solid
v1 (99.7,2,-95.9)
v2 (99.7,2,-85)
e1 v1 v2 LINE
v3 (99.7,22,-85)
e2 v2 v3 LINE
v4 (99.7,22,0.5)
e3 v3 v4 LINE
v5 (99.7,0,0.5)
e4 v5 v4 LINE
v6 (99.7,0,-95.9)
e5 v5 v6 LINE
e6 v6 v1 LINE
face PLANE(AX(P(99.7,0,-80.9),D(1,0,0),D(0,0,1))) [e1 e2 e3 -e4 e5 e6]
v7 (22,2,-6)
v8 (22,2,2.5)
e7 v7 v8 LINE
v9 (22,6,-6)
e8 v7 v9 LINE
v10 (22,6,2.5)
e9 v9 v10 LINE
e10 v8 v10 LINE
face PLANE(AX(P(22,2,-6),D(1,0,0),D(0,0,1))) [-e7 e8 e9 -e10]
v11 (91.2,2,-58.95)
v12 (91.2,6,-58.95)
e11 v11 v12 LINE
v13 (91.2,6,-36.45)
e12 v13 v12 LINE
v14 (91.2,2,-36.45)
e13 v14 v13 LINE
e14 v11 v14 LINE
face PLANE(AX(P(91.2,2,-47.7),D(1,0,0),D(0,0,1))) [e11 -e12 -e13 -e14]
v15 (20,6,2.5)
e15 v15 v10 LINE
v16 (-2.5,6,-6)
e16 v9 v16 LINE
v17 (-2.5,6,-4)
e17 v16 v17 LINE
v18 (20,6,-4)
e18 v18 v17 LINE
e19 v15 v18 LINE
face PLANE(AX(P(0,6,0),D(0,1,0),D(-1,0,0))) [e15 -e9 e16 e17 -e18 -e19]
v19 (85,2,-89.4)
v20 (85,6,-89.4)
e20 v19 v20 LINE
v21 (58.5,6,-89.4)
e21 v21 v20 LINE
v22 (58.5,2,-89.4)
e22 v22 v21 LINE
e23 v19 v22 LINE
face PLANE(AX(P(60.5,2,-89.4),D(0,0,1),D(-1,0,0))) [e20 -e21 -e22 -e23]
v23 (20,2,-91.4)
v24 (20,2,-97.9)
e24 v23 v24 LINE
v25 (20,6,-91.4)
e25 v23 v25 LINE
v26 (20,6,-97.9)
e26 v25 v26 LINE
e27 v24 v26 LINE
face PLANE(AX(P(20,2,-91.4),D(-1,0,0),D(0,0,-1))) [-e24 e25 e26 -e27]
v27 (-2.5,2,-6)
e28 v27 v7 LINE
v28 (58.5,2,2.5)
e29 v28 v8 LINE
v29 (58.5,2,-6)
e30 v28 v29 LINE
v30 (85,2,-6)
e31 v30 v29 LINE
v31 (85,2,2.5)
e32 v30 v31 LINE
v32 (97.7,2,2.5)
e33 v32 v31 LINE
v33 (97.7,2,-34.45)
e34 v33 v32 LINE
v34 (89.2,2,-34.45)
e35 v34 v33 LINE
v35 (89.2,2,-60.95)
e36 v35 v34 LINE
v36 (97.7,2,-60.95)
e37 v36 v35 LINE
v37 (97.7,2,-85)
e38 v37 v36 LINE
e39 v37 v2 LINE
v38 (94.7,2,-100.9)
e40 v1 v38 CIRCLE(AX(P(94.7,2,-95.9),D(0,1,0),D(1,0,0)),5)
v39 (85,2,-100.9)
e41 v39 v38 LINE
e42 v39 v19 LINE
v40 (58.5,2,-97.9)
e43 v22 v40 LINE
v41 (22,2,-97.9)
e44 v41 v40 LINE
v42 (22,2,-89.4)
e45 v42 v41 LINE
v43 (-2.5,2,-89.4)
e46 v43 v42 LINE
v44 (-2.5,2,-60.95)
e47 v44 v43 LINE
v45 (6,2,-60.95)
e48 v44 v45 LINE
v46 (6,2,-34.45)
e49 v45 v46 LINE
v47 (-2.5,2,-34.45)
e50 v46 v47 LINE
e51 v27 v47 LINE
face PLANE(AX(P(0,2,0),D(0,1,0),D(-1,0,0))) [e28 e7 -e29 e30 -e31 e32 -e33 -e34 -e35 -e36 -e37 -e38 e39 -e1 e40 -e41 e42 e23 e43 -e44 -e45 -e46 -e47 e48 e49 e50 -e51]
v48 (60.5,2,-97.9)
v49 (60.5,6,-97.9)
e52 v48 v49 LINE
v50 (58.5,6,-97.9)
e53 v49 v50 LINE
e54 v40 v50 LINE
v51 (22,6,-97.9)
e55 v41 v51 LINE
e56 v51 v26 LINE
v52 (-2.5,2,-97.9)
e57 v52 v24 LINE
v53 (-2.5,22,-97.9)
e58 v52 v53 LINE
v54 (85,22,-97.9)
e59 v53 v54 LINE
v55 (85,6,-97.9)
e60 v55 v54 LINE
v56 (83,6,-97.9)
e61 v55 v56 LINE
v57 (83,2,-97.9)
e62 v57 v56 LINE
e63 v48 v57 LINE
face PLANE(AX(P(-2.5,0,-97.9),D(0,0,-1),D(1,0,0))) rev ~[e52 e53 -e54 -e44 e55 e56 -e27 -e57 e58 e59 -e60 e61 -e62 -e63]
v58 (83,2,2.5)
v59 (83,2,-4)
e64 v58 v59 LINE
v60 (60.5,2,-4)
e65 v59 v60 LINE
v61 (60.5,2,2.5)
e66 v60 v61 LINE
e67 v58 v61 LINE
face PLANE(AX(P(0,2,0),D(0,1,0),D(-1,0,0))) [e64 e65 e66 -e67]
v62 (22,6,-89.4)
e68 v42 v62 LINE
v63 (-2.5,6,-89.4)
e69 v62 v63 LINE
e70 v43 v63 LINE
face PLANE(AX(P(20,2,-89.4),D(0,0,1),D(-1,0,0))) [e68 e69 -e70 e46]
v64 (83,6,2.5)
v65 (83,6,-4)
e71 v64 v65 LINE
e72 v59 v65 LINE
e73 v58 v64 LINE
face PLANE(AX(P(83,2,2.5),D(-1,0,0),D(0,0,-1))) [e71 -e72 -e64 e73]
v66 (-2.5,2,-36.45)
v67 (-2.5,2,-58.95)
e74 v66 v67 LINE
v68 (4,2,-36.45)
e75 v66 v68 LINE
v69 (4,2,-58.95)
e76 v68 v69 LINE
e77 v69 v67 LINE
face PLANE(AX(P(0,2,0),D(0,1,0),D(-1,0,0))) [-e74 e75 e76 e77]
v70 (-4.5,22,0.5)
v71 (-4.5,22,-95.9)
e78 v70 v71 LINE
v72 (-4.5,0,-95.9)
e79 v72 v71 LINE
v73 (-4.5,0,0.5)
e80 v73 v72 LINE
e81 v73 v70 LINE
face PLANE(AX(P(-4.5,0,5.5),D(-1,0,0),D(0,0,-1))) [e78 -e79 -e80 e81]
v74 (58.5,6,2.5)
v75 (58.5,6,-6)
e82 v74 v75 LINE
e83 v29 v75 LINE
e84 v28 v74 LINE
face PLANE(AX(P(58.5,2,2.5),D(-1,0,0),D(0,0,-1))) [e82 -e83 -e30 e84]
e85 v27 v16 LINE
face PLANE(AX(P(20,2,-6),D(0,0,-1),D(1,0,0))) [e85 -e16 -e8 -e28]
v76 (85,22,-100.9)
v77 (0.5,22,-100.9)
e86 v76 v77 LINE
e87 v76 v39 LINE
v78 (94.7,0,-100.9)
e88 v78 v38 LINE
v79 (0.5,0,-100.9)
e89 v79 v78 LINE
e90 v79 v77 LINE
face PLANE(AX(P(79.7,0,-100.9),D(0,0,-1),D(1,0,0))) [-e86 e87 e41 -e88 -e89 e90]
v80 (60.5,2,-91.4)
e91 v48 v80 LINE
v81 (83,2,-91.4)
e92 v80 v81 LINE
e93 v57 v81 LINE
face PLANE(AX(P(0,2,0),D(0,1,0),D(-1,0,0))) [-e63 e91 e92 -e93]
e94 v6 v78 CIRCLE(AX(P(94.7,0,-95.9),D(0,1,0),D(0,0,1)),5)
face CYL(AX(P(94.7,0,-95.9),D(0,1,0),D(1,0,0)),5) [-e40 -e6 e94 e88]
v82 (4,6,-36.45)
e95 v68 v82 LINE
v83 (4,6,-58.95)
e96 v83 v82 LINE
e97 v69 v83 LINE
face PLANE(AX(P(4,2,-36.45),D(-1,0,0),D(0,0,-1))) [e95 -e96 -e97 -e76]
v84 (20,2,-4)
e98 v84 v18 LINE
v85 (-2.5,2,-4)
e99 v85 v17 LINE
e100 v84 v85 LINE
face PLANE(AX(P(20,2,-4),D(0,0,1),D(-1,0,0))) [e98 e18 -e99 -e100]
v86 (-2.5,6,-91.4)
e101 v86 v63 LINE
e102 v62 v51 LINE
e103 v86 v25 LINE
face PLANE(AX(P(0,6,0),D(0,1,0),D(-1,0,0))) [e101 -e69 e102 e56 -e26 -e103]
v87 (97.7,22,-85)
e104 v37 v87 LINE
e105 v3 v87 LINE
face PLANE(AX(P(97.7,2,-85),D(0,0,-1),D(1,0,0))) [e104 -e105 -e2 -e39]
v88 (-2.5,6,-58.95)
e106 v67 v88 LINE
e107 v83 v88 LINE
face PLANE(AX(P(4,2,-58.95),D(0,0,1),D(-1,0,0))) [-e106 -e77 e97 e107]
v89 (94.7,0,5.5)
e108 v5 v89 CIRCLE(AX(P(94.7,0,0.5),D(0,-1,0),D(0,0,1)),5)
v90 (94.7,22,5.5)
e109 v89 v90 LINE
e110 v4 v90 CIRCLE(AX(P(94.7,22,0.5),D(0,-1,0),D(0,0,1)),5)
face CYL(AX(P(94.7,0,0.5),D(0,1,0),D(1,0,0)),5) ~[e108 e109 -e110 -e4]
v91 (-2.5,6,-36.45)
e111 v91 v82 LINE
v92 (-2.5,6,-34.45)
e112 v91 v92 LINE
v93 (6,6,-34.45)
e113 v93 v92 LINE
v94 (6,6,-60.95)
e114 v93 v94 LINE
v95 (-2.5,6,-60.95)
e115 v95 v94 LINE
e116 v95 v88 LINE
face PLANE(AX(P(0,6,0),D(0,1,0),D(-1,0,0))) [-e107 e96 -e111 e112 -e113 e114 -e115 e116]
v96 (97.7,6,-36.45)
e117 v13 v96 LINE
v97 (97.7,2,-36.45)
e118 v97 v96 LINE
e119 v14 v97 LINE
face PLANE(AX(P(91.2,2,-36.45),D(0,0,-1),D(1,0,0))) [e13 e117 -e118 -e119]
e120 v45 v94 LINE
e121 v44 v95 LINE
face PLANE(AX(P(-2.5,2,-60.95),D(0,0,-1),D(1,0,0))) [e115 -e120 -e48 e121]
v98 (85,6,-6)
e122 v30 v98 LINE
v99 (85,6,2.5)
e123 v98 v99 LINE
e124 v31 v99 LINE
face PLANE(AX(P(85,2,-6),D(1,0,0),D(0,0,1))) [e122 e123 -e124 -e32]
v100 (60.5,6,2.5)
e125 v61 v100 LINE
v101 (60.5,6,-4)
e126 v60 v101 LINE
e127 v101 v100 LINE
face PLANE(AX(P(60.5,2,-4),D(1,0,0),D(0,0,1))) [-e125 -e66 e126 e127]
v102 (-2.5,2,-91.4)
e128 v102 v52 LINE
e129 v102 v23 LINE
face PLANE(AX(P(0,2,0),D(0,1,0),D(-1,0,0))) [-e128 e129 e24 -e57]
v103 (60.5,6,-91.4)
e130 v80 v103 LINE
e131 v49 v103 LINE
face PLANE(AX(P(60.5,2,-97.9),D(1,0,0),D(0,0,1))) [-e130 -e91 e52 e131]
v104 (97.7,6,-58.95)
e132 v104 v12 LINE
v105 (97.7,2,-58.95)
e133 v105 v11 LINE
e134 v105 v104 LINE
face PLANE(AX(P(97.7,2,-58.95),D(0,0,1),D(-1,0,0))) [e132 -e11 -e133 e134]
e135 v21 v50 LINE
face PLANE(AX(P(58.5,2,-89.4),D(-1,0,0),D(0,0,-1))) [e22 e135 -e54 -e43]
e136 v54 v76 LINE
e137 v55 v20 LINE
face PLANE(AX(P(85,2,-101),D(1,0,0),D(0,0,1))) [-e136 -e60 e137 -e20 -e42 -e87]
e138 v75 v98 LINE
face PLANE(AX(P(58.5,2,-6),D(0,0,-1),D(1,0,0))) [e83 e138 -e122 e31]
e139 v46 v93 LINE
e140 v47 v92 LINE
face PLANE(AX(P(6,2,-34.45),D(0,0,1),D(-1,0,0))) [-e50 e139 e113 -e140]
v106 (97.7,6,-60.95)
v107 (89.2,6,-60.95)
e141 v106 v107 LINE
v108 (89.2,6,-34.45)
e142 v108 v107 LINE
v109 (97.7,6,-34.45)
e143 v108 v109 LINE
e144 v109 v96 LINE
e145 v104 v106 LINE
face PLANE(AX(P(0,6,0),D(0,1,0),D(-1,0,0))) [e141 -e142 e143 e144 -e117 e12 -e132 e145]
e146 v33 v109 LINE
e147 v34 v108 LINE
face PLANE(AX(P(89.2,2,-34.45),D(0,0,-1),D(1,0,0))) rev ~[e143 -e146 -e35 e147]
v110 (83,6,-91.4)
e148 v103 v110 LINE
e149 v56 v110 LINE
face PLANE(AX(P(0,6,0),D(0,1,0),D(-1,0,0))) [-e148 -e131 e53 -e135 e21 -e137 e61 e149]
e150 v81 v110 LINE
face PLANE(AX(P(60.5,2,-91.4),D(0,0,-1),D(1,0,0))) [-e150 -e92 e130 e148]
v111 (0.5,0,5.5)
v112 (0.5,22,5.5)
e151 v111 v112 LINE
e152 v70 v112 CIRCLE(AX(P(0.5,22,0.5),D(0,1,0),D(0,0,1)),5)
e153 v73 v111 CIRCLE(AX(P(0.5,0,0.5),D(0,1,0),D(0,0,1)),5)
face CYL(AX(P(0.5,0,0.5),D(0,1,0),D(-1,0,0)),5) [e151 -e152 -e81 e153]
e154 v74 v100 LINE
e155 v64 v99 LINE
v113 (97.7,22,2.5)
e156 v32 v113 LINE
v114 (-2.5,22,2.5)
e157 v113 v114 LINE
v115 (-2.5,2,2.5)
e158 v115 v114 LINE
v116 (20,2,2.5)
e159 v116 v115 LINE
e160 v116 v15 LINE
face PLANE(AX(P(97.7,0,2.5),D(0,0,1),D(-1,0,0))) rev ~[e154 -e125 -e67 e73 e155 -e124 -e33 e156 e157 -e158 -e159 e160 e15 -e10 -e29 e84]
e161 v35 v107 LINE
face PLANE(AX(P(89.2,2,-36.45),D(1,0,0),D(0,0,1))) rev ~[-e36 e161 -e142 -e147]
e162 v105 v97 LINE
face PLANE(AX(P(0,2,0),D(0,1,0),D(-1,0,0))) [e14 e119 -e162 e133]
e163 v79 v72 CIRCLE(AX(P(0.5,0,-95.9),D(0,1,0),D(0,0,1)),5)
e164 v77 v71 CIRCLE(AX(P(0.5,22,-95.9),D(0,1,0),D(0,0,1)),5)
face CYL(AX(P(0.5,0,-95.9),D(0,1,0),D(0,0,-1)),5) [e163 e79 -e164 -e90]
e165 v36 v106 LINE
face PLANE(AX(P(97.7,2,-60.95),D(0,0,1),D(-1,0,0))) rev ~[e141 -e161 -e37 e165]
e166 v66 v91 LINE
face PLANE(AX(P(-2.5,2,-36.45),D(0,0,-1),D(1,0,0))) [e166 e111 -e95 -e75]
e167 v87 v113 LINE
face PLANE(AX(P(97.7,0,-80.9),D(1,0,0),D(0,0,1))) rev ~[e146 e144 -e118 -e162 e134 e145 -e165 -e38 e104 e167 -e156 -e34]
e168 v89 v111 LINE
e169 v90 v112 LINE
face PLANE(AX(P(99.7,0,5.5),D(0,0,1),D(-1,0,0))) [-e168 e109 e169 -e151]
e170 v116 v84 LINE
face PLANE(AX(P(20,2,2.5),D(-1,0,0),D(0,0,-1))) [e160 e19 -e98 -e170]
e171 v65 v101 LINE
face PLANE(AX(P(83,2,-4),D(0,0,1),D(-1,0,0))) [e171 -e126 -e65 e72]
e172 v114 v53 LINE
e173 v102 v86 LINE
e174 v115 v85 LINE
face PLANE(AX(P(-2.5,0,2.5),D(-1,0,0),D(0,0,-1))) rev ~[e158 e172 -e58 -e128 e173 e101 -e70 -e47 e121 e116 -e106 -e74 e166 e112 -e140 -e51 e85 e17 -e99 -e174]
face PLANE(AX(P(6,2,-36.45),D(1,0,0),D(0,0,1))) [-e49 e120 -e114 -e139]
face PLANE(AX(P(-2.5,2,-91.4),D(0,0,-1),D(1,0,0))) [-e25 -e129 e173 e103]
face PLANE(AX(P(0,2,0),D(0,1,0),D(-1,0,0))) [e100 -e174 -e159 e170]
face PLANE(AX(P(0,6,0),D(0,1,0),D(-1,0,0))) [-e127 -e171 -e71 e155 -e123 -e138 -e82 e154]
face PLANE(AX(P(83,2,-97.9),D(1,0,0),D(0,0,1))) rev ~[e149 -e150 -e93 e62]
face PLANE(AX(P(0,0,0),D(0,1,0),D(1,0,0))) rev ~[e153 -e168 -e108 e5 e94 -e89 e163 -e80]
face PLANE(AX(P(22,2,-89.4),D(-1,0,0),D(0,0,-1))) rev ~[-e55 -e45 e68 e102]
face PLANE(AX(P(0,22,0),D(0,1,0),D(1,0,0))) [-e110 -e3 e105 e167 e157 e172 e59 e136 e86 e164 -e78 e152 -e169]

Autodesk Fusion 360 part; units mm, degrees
sketch "草图1" plane through (0, 0, 0) normal (0, 1, 0) x (1, 0, 0)
  line L0 (0, 0) -> (95.2, 0)
  line L1 (95.2, 0) -> (95.2, 95.4)
  line L2 (95.2, 95.4) -> (0, 95.4)
  line L3 (0, 95.4) -> (0, 0)
  line L4 (-1.5, 96.9) -> (96.7, 96.9)
  line L5 (96.7, 96.9) -> (96.7, -1.5)
  line L6 (96.7, -1.5) -> (-1.5, -1.5)
  line L7 (-1.5, -1.5) -> (-1.5, 96.9)
  line L8 (-2.5, 97.9) -> (97.7, 97.9)
  line L9 (97.7, 97.9) -> (97.7, -2.5)
  line L10 (97.7, -2.5) -> (-2.5, -2.5)
  line L11 (-2.5, -2.5) -> (-2.5, 97.9)
  line L12 (-4.5, 100.9) -> (99.7, 100.9)
  line L13 (99.7, 100.9) -> (99.7, -5.5)
  line L14 (99.7, -5.5) -> (-4.5, -5.5)
  line L15 (-4.5, -5.5) -> (-4.5, 100.9)
  line L16 (99.7, 100.9) -> (79.7, 100.9)
  line L17 (79.7, 100.9) -> (79.7, 80.9)
  line L18 (79.7, 80.9) -> (99.7, 80.9)
  line L19 (99.7, 80.9) -> (99.7, 100.9)
  line L20 (79.7, 100.9) -> (99.7, 80.9)
  dimension "d1" = 95.2
  dimension "d2" = 95.4
  dimension "d3" = 1.5
  dimension "d4" = 1.5
  dimension "d5" = 1.5
  dimension "d6" = 1.5
  dimension "d7" = 1
  dimension "d8" = 1
  dimension "d9" = 1
  dimension "d10" = 1
  dimension "d11" = 3
  dimension "d12" = 2
  dimension "d13" = 2
  dimension "d14" = 3
  dimension "d21" = 20
  dimension "d22" = 20
extrude "拉伸1" add sketch "草图1" along normal blind 2 contours L0 L1 L2 L3 L17 L18 | L0 L1 L2 L3 L4 L5 L6 L7 L17 L18 | L1 L2 L17 L18 L20 | L1 L5 L18 L20 | L2 L4 L17 L20 | L1 L2 L20 | L1 L2 L4 L5 L20 | L4 L5 L6 L7 L8 L9 L10 L11 L17 L18 | L5 L9 L18 L20 | L4 L8 L17 L20 | L4 L5 L8 L9 L20
extrude "拉伸2" add sketch "草图1" along normal blind 22 contours L8 L9 L10 L11 L12 L13 L14 L15 L17 L18 | L9 L18 L20 | L8 L17 L20 | L8 L9 L12 L13 L16 L19 L20
fillet "圆角1" radius 5 4 edges at (-4.5, 11, 5.5) (99.7, 11, 5.5) (-4.5, 11, -100.9) (99.7, 11, -100.9)
extrude "拉伸3" [suppressed]
fillet "圆角2" [suppressed]
sketch "草图2" plane through (0, 2, 0) normal (0, 1, 0) x (-1, 0, 0)
  line L0 (-97.7, -97.9) -> (2.5, -97.9)
  line L1 (2.5, -97.9) -> (2.5, 2.5)
  line L2 (2.5, 2.5) -> (-97.7, 2.5)
  line L3 (-97.7, 2.5) -> (-97.7, -97.9)
  line L4 (2.5, 2.5) -> (2.5, -20)
  line L5 (2.5, -20) -> (-5.5, -20)
  line L6 (-5.5, -20) -> (-5.5, -22)
  line L7 (-5.5, -22) -> (2.5, -22)
  line L8 (2.5, -22) -> (2.5, -20)
  line L9 (-5.5, -20) -> (-3.5, -20)
  line L10 (-3.5, -20) -> (-3.5, 2.5)
  line L11 (-3.5, 2.5) -> (-5.5, 2.5)
  line L12 (-5.5, 2.5) -> (-5.5, -20)
  line L13 (-97.7, 2.5) -> (-91.7, 2.5)
  line L14 (-91.7, 2.5) -> (-91.7, -20)
  line L15 (-91.7, -20) -> (-97.7, -20)
  line L16 (-97.7, -20) -> (-97.7, 2.5)
  line L17 (-97.7, -20) -> (-89.7, -20)
  line L18 (-89.7, -20) -> (-89.7, -23)
  line L19 (-89.7, -23) -> (-97.7, -23)
  line L20 (-97.7, -23) -> (-97.7, -20)
  line L21 (-89.7, -20) -> (-91.7, -20)
  line L22 (-91.7, -20) -> (-91.7, 2.5)
  line L23 (-91.7, 2.5) -> (-89.7, 2.5)
  line L24 (-89.7, 2.5) -> (-89.7, -20)
  line L25 (-91.7, -97.9) -> (-91.7, -75.4)
  line L26 (-91.7, -97.9) -> (-97.7, -97.9)
  line L27 (-97.7, -97.9) -> (-97.7, -75.4)
  line L28 (-97.7, -75.4) -> (-91.7, -75.4)
  line L29 (2.5, -97.9) -> (2.5, -75.4)
  line L30 (-3.5, -75.4) -> (2.5, -75.4)
  line L31 (-3.5, -97.9) -> (-3.5, -75.4)
  line L32 (2.5, -97.9) -> (-3.5, -97.9)
  line L33 (2.5, -75.4) -> (-5.5, -75.4)
  line L34 (-5.5, -75.4) -> (-5.5, -73.4)
  line L35 (-5.5, -73.4) -> (2.5, -73.4)
  line L36 (2.5, -73.4) -> (2.5, -75.4)
  line L37 (-5.5, -75.4) -> (-3.5, -75.4)
  line L38 (-3.5, -75.4) -> (-3.5, -97.9)
  line L39 (-3.5, -97.9) -> (-5.5, -97.9)
  line L40 (-5.5, -97.9) -> (-5.5, -75.4)
  line L41 (-97.7, -75.4) -> (-89.7, -75.4)
  line L42 (-89.7, -75.4) -> (-89.7, -73.4)
  line L43 (-89.7, -73.4) -> (-97.7, -73.4)
  line L44 (-97.7, -73.4) -> (-97.7, -75.4)
  line L45 (-89.7, -75.4) -> (-91.7, -75.4)
  line L46 (-91.7, -75.4) -> (-91.7, -97.9)
  line L47 (-91.7, -97.9) -> (-89.7, -97.9)
  line L48 (-89.7, -97.9) -> (-89.7, -75.4)
  line L49 (-47.6, -97.9) -> (-47.6, -91.9)
  line L50 (-47.6, -91.9) -> (-36.35, -91.9)
  line L51 (-47.6, -91.9) -> (-58.85, -91.9)
  line L52 (-36.35, -91.9) -> (-58.85, -91.9)
  line L53 (-58.85, -91.9) -> (-58.85, -97.9)
  line L54 (-58.85, -97.9) -> (-36.35, -97.9)
  line L55 (-36.35, -97.9) -> (-36.35, -91.9)
  line L56 (-47.6, 2.5) -> (-36.35, 2.5)
  line L57 (-36.35, -3.5) -> (-36.35, 2.5)
  line L58 (-58.85, -3.5) -> (-36.35, -3.5)
  line L59 (-36.35, 2.5) -> (-58.85, 2.5)
  line L60 (-58.85, 2.5) -> (-58.85, -3.5)
  line L61 (-36.35, -97.9) -> (-34.35, -97.9)
  line L62 (-34.35, -97.9) -> (-34.35, -89.9)
  line L63 (-34.35, -89.9) -> (-36.35, -89.9)
  line L64 (-36.35, -89.9) -> (-36.35, -97.9)
  line L65 (-36.35, -89.9) -> (-58.85, -89.9)
  line L66 (-58.85, -89.9) -> (-58.85, -91.9)
  line L67 (-58.85, -91.9) -> (-36.35, -91.9)
  line L68 (-36.35, -91.9) -> (-36.35, -89.9)
  line L69 (-58.85, -89.9) -> (-60.85, -89.9)
  line L70 (-60.85, -89.9) -> (-60.85, -97.9)
  line L71 (-60.85, -97.9) -> (-58.85, -97.9)
  line L72 (-58.85, -97.9) -> (-58.85, -89.9)
  line L73 (-36.35, 2.5) -> (-34.35, 2.5)
  line L74 (-34.35, 2.5) -> (-34.35, -5.5)
  line L75 (-34.35, -5.5) -> (-36.35, -5.5)
  line L76 (-36.35, -5.5) -> (-36.35, 2.5)
  line L77 (-58.85, 2.5) -> (-60.85, 2.5)
  line L78 (-60.85, 2.5) -> (-60.85, -5.5)
  line L79 (-60.85, -5.5) -> (-58.85, -5.5)
  line L80 (-58.85, -5.5) -> (-58.85, 2.5)
  line L81 (-36.35, -5.5) -> (-58.85, -5.5)
  line L82 (-58.85, -5.5) -> (-58.85, -3.5)
  line L83 (-58.85, -3.5) -> (-36.35, -3.5)
  line L84 (-36.35, -3.5) -> (-36.35, -5.5)
  dimension "d27" = 22.5
  dimension "d28" = 8
  dimension "d29" = 2
  dimension "d32" = 6
  dimension "d33" = 22.5
  dimension "d34" = 8
  dimension "d35" = 3
  dimension "d38" = 77.9
  dimension "d39" = 0
  dimension "d42" = 94.2
  dimension "d43" = 0
  dimension "d44" = 8
  dimension "d45" = 2
  dimension "d46" = 8
  dimension "d47" = 2
  dimension "d50" = 6
  dimension "d51" = 11.25
  dimension "d52" = 11.25
  dimension "d55" = 0
  dimension "d56" = 94.4
  dimension "d57" = 2
  dimension "d58" = 8
  dimension "d59" = 2
  dimension "d60" = 8
  dimension "d61" = 2
  dimension "d62" = 8
  dimension "d63" = 2
  dimension "d64" = 8
extrude "拉伸4" [suppressed]
extrude "拉伸5" [suppressed]
extrude "拉伸6" [suppressed]
sketch "草图3" plane through (0, 2, 0) normal (0, 1, 0) x (-1, 0, 0)
  line L0 (2.5, 2.5) -> (-97.7, 2.5)
  line L1 (-97.7, 2.5) -> (-97.7, -97.9)
  line L2 (-97.7, -97.9) -> (2.5, -97.9)
  line L3 (2.5, -97.9) -> (2.5, 2.5)
  line L4 (2.5, 2.5) -> (-20, 2.5)
  line L5 (-20, 2.5) -> (-20, -4)
  line L6 (-20, -4) -> (2.5, -4)
  line L7 (2.5, -4) -> (2.5, 2.5)
  line L8 (2.5, -4) -> (-20, -4)
  line L9 (-20, -4) -> (-20, -6)
  line L10 (-20, -6) -> (2.5, -6)
  line L11 (2.5, -6) -> (2.5, -4)
  line L12 (-20, -6) -> (-22, -6)
  line L13 (-22, -6) -> (-22, 2.5)
  line L14 (-22, 2.5) -> (-20, 2.5)
  line L15 (-20, 2.5) -> (-20, -6)
  line L16 (-20, -91.4) -> (-20, -97.9)
  line L17 (-20, -97.9) -> (2.5, -97.9)
  line L18 (2.5, -97.9) -> (2.5, -91.4)
  line L19 (2.5, -91.4) -> (-20, -91.4)
  line L20 (2.5, -97.9) -> (-20, -97.9)
  line L21 (2.5, -91.4) -> (-20, -91.4)
  line L22 (-20, -91.4) -> (-20, -89.4)
  line L23 (-20, -89.4) -> (2.5, -89.4)
  line L24 (2.5, -89.4) -> (2.5, -91.4)
  line L25 (-20, -89.4) -> (-22, -89.4)
  line L26 (-22, -89.4) -> (-22, -97.9407)
  line L27 (-22, -97.9407) -> (-20, -97.9407)
  line L28 (-20, -97.9407) -> (-20, -89.4)
  line L29 (2.5, -47.7) -> (-4, -47.7)
  line L30 (-4, -47.7) -> (-4, -58.95)
  line L31 (-4, -58.95) -> (2.5, -58.95)
  line L32 (2.5, -58.95) -> (2.5, -47.7)
  line L33 (-4, -47.7) -> (2.5, -47.7)
  line L34 (2.5, -47.7) -> (2.5, -36.45)
  line L35 (2.5, -36.45) -> (-4, -36.45)
  line L36 (-4, -36.45) -> (-4, -47.7)
  line L37 (-97.7, -36.45) -> (-97.7, -47.7)
  line L38 (-91.2, -47.7) -> (-91.2, -36.45)
  line L39 (-97.7, -47.7) -> (-97.7, -58.95)
  line L40 (-91.2, -58.95) -> (-91.2, -47.7)
  line L41 (-91.2, -36.45) -> (-97.7, -36.45)
  line L42 (-91.2, -47.7) -> (-97.7, -47.7)
  line L43 (-97.7, -47.7) -> (-91.2, -47.7)
  line L44 (-97.7, -58.95) -> (-91.2, -58.95)
  line L45 (2.5, -36.45) -> (-6, -36.45)
  line L46 (-6, -36.45) -> (-6, -34.45)
  line L47 (-6, -34.45) -> (2.5, -34.45)
  line L48 (2.5, -34.45) -> (2.5, -36.45)
  line L49 (-4, -58.95) -> (-6, -58.95)
  line L50 (-6, -58.95) -> (-6, -36.45)
  line L51 (-6, -36.45) -> (-4, -36.45)
  line L52 (-4, -36.45) -> (-4, -58.95)
  line L53 (-6, -58.95) -> (2.5, -58.95)
  line L54 (2.5, -58.95) -> (2.5, -60.95)
  line L55 (2.5, -60.95) -> (-6, -60.95)
  line L56 (-6, -60.95) -> (-6, -58.95)
  line L57 (-97.7, -36.45) -> (-89.2, -36.45)
  line L58 (-89.2, -36.45) -> (-89.2, -34.45)
  line L59 (-89.2, -34.45) -> (-97.7, -34.45)
  line L60 (-97.7, -34.45) -> (-97.7, -36.45)
  line L61 (-89.2, -36.45) -> (-91.2, -36.45)
  line L62 (-91.2, -36.45) -> (-91.2, -58.95)
  line L63 (-91.2, -58.95) -> (-89.2, -58.95)
  line L64 (-89.2, -58.95) -> (-89.2, -36.45)
  line L65 (-89.2, -58.95) -> (-97.7, -58.95)
  line L66 (-97.7, -58.95) -> (-97.7, -60.95)
  line L67 (-97.7, -60.95) -> (-89.2, -60.95)
  line L68 (-89.2, -60.95) -> (-89.2, -58.95)
  line L69 (-101, -101) -> (-85, -101)
  line L70 (-85, -101) -> (-85, -85)
  line L71 (-85, -85) -> (-101, -85)
  line L72 (-101, -85) -> (-101, -101)
  line L73 (-85, -97.9) -> (-83, -97.9)
  line L74 (-83, -97.9) -> (-83, -89.4)
  line L75 (-83, -89.4) -> (-85, -89.4)
  line L76 (-85, -89.4) -> (-85, -97.9)
  line L77 (-83, -97.9) -> (-60.5, -97.9)
  line L78 (-60.5, -97.9) -> (-60.5, -91.4)
  line L79 (-60.5, -91.4) -> (-83, -91.4)
  line L80 (-83, -91.4) -> (-83, -97.9)
  line L81 (-83, -89.4) -> (-60.5, -89.4)
  line L82 (-60.5, -89.4) -> (-60.5, -91.4)
  line L83 (-60.5, -91.4) -> (-83, -91.4)
  line L84 (-83, -91.4) -> (-83, -89.4)
  line L85 (-60.5, -89.4) -> (-58.5, -89.4)
  line L86 (-58.5, -89.4) -> (-58.5, -97.9)
  line L87 (-58.5, -97.9) -> (-60.5, -97.9)
  line L88 (-60.5, -97.9) -> (-60.5, -89.4)
  line L89 (-60.5, 2.5) -> (-83, 2.5)
  line L90 (-60.5, 2.5) -> (-83, 2.5)
  line L91 (-83, -4) -> (-60.5, -4)
  line L92 (-60.5, -4) -> (-60.5, 2.5)
  line L93 (-83, 2.5) -> (-83, -4)
  line L94 (-60.5, 2.5) -> (-58.5, 2.5)
  line L95 (-58.5, 2.5) -> (-58.5, -6)
  line L96 (-58.5, -6) -> (-60.5, -6)
  line L97 (-60.5, -6) -> (-60.5, 2.5)
  line L98 (-60.5, -6) -> (-83, -6)
  line L99 (-83, -6) -> (-83, -4)
  line L100 (-83, -4) -> (-60.5, -4)
  line L101 (-60.5, -4) -> (-60.5, -6)
  line L102 (-83, -6) -> (-85, -6)
  line L103 (-85, -6) -> (-85, 2.5)
  line L104 (-85, 2.5) -> (-83, 2.5)
  line L105 (-83, 2.5) -> (-83, -6)
  point P0 (-20, -91.4)
  point P1 (2.5, -91.4)
  point P2 (0, -93.9)
  point P3 (-60.5, -4)
  dimension "d67" = 22.5
  dimension "d68" = 6.5
  dimension "d69" = 22.5
  dimension "d70" = 2
  dimension "d79" = 2
  dimension "d80" = 2
  dimension "d84" = 6.5
  dimension "d85" = 11.25
  dimension "d86" = 11.25
  dimension "d89" = -93.7
  dimension "d90" = 0
  dimension "d91" = 8.5
  dimension "d92" = 2
  dimension "d93" = 2
  dimension "d94" = 8.5
  dimension "d95" = 2
  dimension "d96" = 2
  dimension "d101" = 2
  dimension "d102" = 8.5
  dimension "d103" = 22.5
  dimension "d104" = 6.5
  dimension "d105" = 2
  dimension "d108" = -93.9
  dimension "d109" = 0
  dimension "d110" = 2
  dimension "d111" = 8.5
  dimension "d112" = 2
extrude "拉伸8" cut sketch "草图3" along normal blind 24 contours L1 L2 L69 L70 L71 L72
extrude "拉伸9" add sketch "草图3" along normal blind 4 contours L0 L5 L9 L12 L13 L14 L15 | L3 L6 L8 L9 L10 L11 L15 | L0 L92 L94 L95 L96 L97 L101 | L3 L35 L45 L46 L47 L48 L51 | L0 L93 L99 L102 L103 L104 L105 | L91 L97 L98 L99 L100 L101 L105 | L30 L36 L45 L49 L50 L51 L52 L53 | L3 L31 L49 L53 L54 L55 L56 | L1 L41 L57 L58 L59 L60 L61 | L3 L19 L21 L22 L23 L24 L28 | L2 L16 L22 L25 L26 L28 | L38 L40 L57 L61 L62 L63 L64 L65 | L1 L44 L63 L65 L66 L67 L68 | L2 L78 L82 L85 L86 L87 L88 | L2 L70 L73 L74 L75 L76 L80 L84 | L74 L79 L81 L82 L83 L84 L88
